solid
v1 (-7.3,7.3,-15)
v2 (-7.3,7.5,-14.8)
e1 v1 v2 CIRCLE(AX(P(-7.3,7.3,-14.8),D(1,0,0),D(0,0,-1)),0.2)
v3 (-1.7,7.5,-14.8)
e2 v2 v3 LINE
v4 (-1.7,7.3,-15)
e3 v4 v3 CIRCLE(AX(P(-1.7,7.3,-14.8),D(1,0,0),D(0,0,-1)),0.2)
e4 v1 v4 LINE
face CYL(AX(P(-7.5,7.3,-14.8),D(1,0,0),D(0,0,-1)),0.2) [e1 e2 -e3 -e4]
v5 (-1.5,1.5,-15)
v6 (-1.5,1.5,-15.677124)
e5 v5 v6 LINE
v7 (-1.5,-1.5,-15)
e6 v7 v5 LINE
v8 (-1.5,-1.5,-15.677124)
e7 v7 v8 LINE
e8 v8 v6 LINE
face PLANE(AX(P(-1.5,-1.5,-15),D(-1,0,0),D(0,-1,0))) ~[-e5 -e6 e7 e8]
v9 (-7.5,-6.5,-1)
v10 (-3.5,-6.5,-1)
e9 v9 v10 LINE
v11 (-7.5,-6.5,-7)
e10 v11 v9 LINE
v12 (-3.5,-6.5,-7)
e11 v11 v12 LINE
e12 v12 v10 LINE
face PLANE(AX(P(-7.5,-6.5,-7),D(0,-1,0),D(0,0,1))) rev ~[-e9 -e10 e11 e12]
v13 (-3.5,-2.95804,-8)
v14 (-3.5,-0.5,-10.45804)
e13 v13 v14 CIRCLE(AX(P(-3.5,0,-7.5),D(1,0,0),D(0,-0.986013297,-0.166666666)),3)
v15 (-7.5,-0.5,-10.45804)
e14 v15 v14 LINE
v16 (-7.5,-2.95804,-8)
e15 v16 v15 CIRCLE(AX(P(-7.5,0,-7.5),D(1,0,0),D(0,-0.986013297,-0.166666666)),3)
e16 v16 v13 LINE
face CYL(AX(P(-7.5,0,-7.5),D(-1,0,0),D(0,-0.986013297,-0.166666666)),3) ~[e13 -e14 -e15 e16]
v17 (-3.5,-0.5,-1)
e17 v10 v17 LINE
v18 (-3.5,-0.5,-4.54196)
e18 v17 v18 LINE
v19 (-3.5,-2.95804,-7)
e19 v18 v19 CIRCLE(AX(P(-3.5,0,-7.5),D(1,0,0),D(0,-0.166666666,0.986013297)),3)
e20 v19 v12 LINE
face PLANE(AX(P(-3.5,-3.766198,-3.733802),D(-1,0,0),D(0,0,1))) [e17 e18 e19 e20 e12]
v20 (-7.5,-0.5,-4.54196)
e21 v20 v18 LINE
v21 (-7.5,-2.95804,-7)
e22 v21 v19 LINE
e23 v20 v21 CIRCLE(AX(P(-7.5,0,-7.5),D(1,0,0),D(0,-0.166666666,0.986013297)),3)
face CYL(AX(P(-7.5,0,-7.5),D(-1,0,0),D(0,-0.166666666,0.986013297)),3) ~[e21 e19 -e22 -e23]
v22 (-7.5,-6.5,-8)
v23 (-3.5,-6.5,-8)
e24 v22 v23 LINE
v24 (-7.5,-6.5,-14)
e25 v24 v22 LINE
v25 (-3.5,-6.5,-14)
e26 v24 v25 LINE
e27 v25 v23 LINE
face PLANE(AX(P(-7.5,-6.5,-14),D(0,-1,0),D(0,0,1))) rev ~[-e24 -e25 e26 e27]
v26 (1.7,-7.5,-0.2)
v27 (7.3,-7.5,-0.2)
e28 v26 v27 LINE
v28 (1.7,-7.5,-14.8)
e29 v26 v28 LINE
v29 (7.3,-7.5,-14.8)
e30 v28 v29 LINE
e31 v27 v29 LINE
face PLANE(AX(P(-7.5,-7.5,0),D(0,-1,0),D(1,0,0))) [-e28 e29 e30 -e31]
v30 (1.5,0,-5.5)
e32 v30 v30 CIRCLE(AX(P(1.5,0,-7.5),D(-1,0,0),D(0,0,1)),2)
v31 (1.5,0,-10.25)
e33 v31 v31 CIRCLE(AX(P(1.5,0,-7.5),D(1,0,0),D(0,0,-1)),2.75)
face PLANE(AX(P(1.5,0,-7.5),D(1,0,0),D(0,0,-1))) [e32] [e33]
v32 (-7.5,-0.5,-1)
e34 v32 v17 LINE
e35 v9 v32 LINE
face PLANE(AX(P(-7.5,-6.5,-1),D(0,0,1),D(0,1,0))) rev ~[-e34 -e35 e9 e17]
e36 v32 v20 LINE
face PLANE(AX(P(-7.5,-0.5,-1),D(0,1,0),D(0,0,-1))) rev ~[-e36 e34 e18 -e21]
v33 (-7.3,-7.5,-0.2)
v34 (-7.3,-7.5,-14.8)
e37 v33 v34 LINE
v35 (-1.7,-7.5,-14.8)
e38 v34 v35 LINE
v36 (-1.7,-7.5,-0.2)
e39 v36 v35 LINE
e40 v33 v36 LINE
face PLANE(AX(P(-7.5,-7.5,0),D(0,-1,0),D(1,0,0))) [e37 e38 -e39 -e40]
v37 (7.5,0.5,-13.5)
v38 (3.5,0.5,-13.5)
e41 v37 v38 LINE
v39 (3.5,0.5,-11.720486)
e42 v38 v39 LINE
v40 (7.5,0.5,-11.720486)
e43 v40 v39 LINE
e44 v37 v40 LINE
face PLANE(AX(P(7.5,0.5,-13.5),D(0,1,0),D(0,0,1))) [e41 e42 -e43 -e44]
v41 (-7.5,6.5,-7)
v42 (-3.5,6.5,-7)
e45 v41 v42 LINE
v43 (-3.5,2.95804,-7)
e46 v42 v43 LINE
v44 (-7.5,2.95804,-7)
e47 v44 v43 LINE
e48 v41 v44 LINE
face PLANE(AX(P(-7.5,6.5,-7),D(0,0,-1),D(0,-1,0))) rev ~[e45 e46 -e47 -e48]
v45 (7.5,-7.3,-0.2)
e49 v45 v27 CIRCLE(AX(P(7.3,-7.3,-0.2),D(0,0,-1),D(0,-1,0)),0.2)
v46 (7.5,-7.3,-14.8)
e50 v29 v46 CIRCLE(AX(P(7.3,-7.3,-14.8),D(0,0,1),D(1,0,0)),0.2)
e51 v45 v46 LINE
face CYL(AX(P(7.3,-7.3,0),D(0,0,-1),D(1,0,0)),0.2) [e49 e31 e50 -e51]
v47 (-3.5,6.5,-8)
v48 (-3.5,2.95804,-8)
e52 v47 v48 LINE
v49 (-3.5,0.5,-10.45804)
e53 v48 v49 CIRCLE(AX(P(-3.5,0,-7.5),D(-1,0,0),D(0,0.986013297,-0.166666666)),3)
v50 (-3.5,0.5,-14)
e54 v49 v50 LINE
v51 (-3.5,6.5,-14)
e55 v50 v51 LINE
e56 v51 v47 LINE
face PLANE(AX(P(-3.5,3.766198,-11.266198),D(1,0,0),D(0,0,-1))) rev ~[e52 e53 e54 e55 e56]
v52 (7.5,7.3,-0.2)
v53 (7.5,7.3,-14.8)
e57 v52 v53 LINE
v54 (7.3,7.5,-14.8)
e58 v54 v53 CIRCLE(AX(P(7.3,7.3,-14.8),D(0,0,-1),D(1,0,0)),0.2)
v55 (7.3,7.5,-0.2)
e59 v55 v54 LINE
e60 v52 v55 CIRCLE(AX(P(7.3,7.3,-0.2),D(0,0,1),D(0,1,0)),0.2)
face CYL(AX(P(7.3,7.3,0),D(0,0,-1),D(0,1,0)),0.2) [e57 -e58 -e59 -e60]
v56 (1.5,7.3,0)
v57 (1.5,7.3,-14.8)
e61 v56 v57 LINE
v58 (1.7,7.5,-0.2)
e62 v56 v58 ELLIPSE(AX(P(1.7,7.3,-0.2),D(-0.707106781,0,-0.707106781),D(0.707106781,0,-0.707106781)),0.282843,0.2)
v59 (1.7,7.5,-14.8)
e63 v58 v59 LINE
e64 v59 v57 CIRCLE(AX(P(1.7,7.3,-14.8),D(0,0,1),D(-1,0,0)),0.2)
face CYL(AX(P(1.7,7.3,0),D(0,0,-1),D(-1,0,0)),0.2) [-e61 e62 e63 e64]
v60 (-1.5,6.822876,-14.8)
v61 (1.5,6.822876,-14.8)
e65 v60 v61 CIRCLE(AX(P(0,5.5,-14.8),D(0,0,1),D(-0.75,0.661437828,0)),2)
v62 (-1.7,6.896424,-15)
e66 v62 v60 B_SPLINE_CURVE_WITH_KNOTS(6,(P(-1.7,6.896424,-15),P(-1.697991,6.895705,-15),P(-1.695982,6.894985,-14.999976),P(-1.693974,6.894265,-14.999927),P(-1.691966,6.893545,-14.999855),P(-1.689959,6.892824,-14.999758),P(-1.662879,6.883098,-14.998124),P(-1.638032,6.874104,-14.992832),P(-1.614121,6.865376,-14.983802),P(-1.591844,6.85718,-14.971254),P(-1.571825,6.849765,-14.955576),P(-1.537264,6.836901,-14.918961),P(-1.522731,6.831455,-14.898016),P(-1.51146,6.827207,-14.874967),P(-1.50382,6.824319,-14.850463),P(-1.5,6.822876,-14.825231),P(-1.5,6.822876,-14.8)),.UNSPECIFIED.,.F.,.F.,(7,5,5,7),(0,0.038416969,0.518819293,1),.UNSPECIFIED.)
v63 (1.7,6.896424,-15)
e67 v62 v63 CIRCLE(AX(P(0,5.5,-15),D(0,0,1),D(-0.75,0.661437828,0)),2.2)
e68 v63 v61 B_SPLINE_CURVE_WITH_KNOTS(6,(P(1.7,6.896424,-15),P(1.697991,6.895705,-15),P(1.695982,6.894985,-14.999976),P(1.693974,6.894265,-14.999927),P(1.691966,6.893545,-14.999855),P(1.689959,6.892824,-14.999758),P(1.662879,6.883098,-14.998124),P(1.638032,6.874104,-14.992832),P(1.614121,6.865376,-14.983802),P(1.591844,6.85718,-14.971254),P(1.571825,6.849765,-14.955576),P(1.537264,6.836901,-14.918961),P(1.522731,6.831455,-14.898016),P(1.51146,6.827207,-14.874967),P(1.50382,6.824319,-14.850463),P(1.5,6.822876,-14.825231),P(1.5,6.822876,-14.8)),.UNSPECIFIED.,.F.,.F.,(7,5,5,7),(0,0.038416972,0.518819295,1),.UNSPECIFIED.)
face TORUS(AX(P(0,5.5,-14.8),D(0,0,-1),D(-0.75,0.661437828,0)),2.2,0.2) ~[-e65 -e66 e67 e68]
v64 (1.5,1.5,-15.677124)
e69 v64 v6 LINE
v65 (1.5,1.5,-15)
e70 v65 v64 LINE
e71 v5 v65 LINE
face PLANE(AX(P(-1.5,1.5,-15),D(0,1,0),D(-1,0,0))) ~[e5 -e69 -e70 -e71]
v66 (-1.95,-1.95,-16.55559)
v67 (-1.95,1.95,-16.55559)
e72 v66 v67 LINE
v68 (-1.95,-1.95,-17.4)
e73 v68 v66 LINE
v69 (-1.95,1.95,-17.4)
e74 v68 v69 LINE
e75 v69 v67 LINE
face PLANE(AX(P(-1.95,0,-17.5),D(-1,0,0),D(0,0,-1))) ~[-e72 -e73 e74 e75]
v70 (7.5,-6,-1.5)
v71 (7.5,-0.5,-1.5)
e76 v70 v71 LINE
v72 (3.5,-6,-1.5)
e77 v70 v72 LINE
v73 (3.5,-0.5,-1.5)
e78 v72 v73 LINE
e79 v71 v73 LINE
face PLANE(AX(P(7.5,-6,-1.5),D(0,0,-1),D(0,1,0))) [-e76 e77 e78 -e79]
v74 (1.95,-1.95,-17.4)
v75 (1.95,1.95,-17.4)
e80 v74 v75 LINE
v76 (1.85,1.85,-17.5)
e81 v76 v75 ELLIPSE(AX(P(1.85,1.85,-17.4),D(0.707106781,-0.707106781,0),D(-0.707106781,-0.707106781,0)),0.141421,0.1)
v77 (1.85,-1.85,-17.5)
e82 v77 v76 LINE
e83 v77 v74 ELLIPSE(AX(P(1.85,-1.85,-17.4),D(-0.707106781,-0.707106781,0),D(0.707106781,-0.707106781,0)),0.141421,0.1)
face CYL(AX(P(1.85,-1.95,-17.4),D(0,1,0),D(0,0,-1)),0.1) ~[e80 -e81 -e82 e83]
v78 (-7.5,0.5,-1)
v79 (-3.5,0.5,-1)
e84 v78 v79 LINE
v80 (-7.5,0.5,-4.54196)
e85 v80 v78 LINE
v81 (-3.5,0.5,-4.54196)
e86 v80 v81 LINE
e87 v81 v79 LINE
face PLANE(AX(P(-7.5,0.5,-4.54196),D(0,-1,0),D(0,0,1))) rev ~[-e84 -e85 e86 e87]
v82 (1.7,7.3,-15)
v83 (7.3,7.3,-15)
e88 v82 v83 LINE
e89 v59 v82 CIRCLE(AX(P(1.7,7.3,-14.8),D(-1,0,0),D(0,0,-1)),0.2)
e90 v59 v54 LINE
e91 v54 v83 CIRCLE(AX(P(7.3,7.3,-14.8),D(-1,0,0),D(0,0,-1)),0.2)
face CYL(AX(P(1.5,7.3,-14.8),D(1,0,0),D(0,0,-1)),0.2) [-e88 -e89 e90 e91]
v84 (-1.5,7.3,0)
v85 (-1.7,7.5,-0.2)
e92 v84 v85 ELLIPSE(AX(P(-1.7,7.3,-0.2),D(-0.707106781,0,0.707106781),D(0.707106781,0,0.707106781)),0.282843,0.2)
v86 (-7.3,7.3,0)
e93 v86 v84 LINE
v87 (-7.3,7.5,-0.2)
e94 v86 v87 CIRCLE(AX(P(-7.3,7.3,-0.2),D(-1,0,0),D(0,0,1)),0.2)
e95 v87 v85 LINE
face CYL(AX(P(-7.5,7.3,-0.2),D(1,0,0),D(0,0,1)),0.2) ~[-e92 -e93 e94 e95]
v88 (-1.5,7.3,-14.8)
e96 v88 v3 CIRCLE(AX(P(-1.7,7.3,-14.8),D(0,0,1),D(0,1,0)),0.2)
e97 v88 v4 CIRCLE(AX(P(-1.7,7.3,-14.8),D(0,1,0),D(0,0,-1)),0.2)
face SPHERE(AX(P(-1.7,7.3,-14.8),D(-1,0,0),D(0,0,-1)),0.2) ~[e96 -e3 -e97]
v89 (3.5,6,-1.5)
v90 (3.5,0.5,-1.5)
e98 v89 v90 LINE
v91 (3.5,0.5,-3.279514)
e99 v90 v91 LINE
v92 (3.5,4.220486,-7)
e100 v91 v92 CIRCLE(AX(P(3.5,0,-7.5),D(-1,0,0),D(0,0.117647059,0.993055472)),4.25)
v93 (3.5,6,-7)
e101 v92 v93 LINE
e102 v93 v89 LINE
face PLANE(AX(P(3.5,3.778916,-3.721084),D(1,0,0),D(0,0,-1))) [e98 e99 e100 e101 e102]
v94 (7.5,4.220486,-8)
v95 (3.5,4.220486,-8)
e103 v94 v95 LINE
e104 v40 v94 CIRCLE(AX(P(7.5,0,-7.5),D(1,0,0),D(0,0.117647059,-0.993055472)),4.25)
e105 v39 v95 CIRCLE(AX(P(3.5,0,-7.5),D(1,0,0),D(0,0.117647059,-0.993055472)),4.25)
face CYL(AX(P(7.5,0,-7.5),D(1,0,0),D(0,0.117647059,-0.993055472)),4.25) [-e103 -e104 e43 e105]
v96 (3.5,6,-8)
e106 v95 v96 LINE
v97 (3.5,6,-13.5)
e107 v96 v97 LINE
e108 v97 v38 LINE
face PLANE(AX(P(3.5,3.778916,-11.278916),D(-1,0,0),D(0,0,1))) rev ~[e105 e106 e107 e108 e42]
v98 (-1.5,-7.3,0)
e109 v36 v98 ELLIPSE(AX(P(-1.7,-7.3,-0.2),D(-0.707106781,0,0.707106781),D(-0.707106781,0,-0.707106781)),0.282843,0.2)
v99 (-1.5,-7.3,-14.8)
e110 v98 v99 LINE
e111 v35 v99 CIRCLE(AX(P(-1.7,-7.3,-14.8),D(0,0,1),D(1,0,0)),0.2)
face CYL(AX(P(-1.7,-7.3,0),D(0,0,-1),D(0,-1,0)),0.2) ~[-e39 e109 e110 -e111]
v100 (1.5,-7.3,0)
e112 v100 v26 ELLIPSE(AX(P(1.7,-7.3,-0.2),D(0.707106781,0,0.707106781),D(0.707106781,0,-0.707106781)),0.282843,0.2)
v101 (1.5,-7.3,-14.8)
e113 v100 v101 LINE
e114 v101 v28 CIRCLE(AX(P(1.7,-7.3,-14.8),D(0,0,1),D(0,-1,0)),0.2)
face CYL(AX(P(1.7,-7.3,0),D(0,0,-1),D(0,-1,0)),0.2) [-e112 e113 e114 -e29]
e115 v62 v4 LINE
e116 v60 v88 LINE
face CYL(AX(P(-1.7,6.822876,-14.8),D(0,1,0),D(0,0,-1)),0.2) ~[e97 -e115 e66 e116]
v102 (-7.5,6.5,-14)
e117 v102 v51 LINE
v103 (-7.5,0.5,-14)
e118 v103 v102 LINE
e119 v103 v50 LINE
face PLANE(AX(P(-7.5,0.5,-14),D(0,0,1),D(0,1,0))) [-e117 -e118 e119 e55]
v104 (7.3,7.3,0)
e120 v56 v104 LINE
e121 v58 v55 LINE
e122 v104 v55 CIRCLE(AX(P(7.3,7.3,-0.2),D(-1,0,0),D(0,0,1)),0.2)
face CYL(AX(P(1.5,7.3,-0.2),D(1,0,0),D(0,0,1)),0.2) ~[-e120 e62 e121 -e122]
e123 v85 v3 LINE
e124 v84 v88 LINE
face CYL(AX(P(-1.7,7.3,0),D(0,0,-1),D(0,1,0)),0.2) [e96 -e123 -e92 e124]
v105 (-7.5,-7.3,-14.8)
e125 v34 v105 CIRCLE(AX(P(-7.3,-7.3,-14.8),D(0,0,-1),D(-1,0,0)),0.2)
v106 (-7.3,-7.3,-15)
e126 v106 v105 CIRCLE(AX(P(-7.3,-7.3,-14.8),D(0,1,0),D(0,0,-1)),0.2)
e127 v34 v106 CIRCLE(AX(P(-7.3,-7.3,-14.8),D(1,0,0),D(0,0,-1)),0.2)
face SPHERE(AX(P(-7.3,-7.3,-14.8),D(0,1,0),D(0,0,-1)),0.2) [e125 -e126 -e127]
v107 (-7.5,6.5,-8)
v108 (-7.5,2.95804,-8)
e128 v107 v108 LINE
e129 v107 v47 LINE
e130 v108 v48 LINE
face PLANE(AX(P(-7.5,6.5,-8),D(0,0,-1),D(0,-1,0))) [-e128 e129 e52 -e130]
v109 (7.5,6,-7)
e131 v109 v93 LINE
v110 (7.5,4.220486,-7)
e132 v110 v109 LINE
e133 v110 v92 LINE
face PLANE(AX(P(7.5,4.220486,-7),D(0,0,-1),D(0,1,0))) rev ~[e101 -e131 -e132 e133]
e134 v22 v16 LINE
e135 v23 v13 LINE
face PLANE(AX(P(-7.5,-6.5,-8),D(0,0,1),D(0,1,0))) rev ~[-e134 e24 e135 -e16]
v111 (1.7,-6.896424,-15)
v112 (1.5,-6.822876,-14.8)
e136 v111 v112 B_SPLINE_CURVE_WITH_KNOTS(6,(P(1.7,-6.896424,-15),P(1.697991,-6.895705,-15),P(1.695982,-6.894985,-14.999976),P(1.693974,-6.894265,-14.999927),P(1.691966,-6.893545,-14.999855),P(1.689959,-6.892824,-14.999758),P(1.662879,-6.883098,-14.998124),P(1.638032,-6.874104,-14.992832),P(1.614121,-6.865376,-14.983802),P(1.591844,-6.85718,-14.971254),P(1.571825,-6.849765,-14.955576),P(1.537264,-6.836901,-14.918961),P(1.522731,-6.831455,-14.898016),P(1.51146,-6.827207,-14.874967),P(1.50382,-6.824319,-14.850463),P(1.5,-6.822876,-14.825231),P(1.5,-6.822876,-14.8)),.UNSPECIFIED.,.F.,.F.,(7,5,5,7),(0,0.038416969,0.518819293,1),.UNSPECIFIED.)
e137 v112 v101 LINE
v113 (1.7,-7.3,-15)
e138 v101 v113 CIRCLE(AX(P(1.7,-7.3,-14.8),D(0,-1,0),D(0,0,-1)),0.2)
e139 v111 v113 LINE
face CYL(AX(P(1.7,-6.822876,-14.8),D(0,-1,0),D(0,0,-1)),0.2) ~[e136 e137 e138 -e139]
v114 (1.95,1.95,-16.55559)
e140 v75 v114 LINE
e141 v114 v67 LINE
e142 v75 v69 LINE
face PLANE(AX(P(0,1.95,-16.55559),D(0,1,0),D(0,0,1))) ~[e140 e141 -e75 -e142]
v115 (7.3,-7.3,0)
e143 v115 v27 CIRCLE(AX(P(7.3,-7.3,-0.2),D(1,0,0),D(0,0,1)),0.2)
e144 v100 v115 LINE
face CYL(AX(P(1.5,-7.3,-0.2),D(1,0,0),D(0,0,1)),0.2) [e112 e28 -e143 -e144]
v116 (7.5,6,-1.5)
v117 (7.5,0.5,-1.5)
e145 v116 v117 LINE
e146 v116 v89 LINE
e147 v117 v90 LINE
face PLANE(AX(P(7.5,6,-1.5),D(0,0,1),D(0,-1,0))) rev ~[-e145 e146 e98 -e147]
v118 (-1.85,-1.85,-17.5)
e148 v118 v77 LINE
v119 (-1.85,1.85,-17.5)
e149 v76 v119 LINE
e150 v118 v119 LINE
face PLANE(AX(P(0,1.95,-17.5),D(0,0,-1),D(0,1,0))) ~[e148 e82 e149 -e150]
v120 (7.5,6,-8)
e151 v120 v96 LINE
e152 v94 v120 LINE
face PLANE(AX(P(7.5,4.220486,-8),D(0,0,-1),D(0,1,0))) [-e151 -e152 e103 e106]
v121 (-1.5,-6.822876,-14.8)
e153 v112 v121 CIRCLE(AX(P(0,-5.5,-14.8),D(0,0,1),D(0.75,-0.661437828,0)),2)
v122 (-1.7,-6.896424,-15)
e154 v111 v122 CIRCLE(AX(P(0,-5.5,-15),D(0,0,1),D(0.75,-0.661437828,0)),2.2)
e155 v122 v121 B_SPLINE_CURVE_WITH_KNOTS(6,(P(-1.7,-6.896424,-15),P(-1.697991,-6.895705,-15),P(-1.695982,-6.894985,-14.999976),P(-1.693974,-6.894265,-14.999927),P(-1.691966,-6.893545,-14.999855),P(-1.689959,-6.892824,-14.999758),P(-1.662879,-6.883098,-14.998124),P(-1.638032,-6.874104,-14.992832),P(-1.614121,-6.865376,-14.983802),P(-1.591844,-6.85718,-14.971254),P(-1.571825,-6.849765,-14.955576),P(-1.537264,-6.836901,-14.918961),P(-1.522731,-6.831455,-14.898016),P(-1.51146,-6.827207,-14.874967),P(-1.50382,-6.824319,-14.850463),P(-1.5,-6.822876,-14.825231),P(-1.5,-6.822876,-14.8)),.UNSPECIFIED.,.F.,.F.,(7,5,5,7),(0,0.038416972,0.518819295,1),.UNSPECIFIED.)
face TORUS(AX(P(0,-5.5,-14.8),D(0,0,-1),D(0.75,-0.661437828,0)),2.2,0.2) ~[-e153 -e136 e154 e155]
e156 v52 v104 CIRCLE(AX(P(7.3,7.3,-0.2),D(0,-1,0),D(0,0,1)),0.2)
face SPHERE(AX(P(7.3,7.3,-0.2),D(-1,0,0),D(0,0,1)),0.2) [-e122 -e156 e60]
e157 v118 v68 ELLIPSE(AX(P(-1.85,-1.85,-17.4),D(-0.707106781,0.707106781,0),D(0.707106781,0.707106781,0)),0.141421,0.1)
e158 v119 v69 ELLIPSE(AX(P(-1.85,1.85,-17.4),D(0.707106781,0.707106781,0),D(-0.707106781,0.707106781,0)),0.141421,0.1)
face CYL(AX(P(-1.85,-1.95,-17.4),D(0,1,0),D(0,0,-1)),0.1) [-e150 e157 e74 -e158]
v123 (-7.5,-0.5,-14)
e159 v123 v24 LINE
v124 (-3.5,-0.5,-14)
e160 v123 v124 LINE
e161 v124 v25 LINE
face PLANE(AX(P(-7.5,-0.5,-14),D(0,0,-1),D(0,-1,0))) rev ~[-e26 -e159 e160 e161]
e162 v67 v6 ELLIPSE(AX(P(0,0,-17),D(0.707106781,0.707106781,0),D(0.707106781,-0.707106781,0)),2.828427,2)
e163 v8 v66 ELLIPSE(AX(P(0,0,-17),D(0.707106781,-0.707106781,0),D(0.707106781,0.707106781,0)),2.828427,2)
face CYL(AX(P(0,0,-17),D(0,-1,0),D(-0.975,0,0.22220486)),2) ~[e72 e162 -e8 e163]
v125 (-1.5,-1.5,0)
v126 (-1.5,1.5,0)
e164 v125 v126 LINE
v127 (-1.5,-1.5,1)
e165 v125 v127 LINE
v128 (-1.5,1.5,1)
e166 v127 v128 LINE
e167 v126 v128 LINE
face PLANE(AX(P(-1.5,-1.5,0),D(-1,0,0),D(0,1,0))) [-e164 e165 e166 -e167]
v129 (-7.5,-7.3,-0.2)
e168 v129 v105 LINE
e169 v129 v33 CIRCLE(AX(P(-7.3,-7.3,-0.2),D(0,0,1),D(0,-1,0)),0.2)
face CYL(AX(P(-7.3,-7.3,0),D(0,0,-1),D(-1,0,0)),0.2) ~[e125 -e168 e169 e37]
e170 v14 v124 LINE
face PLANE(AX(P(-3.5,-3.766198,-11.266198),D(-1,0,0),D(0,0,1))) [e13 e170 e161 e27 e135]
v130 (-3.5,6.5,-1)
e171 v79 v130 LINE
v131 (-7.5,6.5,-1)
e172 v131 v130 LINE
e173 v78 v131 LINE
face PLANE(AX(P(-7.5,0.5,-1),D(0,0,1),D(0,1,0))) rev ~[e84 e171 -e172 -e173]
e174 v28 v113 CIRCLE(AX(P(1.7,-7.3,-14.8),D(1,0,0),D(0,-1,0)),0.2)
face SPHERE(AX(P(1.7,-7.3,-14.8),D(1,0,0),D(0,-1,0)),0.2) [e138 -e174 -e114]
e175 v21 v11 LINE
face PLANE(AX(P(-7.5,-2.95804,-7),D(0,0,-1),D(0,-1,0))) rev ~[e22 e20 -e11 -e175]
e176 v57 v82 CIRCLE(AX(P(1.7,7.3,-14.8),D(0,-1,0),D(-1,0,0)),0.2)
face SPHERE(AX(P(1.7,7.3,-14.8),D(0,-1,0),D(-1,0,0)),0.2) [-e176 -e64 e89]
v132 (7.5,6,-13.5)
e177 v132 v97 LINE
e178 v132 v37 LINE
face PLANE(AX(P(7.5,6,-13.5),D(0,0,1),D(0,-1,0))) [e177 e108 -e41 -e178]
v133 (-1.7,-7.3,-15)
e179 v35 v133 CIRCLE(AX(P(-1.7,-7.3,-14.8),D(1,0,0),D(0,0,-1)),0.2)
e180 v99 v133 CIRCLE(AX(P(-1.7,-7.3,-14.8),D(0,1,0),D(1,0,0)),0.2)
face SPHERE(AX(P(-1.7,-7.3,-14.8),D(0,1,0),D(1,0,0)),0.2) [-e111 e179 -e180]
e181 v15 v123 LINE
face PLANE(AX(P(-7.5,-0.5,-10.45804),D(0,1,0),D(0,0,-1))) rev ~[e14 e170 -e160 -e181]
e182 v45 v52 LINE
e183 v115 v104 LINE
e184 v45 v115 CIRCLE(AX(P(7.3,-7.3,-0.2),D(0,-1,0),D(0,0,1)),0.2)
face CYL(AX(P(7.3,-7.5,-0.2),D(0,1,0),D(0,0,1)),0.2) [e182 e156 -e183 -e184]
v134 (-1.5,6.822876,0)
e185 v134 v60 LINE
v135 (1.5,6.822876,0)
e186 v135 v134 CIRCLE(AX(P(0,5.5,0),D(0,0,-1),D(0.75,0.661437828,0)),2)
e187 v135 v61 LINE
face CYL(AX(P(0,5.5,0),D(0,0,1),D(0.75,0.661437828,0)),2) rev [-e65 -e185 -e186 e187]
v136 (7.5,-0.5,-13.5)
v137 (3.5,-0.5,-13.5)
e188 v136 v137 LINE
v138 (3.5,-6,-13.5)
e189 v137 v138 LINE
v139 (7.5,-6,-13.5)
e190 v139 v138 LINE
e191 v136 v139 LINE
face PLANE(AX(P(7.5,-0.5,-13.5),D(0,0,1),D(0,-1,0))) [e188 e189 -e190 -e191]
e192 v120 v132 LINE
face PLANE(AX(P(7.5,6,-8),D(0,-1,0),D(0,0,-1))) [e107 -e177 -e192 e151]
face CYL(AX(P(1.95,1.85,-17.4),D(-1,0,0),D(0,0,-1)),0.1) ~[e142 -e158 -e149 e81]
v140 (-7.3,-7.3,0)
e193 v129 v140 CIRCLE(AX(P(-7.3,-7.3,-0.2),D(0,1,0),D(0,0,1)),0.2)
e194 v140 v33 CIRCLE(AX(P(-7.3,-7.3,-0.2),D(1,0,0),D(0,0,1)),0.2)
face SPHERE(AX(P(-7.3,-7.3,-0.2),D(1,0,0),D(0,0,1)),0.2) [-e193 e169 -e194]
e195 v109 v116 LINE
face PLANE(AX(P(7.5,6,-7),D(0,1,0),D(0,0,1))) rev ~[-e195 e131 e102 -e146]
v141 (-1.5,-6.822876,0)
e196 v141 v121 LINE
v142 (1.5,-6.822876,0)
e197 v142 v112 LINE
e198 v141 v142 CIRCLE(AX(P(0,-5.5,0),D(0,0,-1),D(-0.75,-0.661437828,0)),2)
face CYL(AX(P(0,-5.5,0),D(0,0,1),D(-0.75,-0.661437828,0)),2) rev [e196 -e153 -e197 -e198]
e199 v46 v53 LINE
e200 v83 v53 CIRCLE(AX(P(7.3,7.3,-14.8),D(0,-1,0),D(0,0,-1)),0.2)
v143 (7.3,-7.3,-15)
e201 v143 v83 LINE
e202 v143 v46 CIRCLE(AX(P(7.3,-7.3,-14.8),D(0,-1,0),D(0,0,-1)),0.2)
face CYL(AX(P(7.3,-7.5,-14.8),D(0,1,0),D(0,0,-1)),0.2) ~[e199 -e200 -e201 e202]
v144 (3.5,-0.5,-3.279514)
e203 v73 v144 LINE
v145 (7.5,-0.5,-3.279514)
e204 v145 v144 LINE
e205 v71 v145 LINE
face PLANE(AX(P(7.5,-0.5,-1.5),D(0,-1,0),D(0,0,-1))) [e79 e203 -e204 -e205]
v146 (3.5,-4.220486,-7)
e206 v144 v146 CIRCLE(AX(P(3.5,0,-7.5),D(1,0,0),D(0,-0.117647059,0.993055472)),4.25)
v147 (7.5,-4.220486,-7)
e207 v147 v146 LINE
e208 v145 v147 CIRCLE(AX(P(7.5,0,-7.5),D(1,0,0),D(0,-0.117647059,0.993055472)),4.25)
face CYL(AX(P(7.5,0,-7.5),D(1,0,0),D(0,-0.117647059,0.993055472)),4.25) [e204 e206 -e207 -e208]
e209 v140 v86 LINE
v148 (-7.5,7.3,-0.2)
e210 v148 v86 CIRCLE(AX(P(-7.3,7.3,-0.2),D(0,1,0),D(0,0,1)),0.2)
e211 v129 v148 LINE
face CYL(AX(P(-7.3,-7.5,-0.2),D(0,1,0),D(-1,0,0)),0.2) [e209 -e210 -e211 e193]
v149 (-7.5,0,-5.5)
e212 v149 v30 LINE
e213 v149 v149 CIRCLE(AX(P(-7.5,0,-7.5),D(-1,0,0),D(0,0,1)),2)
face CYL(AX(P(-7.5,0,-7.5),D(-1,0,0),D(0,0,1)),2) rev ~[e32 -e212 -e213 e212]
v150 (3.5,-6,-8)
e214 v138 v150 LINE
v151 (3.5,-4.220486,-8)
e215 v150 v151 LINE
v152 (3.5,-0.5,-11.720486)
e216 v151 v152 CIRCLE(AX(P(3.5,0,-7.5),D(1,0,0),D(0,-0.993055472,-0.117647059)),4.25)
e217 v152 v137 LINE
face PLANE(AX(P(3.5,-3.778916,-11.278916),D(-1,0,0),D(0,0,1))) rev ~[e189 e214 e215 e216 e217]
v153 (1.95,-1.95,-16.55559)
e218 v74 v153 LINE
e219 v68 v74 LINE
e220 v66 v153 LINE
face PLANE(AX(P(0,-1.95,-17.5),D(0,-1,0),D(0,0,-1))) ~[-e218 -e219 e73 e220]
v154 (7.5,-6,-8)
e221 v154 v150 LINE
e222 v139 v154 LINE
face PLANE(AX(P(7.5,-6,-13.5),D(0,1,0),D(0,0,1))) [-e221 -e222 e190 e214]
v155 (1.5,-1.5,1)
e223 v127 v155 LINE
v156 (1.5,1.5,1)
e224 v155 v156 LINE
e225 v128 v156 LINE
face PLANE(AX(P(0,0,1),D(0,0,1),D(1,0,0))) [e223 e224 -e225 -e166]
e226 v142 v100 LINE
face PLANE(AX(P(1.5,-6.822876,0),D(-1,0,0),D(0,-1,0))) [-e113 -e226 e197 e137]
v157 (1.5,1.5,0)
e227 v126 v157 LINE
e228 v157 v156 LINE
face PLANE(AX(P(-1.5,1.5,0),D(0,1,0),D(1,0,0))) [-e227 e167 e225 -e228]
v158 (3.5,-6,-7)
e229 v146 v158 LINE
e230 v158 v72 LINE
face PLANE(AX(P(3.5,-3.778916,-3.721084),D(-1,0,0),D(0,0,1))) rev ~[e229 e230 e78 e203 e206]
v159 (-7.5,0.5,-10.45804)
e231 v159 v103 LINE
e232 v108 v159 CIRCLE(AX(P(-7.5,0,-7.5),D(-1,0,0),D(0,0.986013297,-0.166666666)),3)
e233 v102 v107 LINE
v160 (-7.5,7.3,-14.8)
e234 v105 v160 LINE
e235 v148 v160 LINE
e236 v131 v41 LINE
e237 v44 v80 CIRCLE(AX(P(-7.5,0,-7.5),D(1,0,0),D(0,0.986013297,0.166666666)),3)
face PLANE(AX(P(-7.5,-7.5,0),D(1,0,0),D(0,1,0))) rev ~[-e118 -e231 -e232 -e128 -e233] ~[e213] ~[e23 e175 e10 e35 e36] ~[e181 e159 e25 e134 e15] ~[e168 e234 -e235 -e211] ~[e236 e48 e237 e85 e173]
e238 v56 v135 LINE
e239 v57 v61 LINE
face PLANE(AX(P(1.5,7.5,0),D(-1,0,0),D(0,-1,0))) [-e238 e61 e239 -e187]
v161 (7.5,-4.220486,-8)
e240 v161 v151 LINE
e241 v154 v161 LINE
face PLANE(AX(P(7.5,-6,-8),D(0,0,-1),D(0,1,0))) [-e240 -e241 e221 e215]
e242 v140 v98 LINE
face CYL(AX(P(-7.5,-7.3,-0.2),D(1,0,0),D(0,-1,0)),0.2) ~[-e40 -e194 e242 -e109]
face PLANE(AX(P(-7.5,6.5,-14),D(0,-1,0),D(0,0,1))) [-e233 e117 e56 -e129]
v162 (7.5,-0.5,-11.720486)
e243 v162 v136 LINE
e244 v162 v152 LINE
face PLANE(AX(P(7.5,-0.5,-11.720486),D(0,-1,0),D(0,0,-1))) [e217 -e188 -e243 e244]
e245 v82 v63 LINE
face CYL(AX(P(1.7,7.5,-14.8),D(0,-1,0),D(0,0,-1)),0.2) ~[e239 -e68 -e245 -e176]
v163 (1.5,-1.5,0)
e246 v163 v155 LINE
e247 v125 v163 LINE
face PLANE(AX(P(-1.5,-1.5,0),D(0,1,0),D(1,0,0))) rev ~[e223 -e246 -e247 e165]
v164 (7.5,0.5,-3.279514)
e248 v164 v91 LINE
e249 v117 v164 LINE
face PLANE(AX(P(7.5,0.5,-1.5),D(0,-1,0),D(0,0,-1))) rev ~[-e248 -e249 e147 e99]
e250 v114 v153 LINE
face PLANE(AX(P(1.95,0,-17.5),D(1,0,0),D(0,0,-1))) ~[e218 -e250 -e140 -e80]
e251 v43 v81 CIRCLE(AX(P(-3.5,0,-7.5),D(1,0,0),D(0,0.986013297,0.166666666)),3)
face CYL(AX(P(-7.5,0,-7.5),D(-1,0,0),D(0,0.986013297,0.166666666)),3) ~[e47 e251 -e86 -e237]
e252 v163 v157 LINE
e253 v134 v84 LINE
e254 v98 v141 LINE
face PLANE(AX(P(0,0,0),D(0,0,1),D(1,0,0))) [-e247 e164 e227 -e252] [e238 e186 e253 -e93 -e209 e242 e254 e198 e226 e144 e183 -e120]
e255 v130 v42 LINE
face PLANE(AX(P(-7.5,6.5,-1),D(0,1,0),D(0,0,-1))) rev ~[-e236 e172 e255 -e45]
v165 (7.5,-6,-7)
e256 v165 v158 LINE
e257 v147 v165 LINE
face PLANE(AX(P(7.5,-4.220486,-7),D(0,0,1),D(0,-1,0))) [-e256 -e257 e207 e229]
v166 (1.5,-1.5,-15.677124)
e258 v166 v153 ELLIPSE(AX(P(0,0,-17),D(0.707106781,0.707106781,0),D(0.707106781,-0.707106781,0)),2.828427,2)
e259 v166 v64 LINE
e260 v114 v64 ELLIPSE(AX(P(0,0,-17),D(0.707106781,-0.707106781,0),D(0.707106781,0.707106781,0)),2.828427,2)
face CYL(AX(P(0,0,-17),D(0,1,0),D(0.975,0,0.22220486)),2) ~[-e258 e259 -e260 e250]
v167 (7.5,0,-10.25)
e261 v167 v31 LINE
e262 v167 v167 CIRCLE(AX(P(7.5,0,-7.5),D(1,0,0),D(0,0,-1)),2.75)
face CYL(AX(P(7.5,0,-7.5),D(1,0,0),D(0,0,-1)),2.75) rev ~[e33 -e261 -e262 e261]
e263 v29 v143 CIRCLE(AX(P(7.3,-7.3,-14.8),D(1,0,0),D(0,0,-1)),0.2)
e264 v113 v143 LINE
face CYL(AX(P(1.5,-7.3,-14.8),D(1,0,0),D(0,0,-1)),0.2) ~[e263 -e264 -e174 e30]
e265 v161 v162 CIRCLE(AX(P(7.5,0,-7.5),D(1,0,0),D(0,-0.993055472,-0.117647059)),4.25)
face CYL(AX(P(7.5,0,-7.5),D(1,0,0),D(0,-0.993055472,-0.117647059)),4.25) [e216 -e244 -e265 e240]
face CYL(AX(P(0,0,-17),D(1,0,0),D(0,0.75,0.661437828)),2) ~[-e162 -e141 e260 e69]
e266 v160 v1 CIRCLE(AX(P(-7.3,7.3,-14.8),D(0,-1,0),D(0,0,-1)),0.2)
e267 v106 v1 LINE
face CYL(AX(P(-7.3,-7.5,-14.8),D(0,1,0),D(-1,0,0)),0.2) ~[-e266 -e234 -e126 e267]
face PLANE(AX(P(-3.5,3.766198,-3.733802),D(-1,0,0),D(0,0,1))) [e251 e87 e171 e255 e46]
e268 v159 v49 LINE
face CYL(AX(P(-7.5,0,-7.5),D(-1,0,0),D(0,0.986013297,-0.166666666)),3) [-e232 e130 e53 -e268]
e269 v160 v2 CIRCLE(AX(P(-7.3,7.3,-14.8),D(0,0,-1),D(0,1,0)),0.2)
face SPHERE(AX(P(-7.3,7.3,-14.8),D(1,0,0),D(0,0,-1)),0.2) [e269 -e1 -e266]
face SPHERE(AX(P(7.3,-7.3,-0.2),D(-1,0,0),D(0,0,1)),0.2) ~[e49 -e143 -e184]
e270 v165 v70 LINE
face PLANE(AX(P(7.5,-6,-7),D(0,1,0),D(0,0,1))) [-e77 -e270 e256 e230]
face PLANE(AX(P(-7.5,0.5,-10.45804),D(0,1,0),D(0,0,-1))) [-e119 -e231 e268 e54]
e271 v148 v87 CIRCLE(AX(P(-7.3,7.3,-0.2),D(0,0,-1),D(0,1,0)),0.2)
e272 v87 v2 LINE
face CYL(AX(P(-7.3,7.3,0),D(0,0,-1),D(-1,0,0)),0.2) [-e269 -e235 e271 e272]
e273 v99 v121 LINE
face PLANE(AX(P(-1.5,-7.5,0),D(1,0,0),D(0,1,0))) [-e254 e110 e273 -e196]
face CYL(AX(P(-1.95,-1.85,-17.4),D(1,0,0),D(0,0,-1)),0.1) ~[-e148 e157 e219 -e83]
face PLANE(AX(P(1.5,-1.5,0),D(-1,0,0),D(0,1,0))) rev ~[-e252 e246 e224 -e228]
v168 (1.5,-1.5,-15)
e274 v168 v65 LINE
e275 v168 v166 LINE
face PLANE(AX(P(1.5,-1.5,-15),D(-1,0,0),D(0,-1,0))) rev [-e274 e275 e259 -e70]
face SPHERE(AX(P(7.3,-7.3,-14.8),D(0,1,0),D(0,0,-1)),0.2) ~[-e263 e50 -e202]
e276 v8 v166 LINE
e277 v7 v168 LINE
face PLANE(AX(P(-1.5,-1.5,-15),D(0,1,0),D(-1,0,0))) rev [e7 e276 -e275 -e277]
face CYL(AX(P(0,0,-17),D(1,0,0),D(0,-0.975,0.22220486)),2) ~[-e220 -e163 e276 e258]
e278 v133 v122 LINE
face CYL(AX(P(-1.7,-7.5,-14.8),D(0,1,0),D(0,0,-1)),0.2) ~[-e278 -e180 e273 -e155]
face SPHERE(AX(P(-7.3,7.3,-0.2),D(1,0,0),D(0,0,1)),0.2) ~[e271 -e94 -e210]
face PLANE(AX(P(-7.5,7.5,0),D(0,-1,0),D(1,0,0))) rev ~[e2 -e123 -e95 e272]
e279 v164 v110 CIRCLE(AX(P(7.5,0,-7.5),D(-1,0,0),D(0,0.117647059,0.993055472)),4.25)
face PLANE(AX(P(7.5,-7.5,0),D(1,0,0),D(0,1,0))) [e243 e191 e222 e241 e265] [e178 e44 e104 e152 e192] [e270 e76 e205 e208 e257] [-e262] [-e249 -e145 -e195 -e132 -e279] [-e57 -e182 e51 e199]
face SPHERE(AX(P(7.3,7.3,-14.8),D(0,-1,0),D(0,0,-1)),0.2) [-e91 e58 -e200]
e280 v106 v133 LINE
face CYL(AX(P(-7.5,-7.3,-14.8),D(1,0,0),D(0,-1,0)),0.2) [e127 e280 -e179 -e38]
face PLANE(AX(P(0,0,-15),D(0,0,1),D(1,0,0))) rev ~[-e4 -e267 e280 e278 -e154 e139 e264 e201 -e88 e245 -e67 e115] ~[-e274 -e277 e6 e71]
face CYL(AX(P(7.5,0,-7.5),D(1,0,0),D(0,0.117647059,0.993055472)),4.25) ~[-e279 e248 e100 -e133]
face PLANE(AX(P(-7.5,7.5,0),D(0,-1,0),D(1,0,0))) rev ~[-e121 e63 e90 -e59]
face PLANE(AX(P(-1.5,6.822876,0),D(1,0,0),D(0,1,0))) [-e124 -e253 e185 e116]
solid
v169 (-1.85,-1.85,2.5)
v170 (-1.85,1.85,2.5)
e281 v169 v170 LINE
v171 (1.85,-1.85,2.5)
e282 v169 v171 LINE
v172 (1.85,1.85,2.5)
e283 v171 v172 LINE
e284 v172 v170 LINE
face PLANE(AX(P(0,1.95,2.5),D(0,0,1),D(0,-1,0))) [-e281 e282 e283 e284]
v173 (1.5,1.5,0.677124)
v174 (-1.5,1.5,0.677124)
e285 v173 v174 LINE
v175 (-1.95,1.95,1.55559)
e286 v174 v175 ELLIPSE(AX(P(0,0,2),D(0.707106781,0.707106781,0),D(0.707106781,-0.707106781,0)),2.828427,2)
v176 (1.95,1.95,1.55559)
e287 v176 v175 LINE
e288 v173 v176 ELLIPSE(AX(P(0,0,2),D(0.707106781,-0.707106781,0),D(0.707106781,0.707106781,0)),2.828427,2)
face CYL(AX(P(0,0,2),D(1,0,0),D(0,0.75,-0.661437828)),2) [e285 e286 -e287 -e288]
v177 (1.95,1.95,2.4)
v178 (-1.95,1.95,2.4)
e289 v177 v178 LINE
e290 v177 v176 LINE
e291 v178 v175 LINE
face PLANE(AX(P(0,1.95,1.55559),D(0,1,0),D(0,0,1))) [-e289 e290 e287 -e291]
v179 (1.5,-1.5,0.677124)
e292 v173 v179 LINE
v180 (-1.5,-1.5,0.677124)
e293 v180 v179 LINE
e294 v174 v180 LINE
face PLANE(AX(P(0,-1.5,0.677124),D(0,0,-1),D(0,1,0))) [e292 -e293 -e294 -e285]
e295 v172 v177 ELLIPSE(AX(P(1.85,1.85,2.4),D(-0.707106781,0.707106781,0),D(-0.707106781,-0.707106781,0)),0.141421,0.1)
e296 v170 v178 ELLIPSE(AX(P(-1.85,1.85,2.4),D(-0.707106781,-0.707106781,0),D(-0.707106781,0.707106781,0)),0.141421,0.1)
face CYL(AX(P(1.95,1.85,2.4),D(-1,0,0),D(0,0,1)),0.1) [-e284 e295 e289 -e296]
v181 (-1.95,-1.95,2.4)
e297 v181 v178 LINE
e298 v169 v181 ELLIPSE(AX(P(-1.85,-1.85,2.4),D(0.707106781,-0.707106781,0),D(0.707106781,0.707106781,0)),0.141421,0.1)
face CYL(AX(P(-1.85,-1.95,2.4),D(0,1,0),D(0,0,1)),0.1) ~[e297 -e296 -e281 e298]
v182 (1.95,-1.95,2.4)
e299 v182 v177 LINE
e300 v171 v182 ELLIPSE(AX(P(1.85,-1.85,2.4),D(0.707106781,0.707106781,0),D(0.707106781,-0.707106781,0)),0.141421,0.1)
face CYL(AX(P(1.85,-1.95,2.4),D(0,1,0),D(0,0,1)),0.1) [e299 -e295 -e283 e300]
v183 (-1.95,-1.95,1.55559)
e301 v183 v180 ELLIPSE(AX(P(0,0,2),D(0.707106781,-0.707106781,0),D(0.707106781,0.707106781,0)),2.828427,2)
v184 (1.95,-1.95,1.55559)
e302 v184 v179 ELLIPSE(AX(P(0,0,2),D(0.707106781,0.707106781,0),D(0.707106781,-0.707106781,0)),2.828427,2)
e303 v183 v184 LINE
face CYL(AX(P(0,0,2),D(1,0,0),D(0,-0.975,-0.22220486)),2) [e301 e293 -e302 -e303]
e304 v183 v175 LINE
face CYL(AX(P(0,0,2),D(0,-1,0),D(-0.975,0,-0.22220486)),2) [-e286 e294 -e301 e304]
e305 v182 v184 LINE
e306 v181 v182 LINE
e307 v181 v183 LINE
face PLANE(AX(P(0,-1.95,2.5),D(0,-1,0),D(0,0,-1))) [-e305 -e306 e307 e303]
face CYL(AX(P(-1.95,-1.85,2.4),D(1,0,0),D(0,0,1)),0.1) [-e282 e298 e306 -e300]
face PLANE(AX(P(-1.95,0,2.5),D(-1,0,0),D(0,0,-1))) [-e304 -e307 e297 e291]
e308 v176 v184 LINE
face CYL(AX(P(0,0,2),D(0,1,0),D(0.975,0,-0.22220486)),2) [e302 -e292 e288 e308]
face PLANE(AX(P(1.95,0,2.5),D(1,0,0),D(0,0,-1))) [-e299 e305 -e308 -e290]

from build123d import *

# Parameters (mm, degrees)
SKETCH_1_W             = 15
SKETCH_1_H             = 15
EXTRUDE_1_DEPTH        = 15
SKETCH_2_W             = 3
SKETCH_2_H             = 3
EXTRUDE_2_DEPTH        = 1
EXTRUDE_3_DEPTH        = 4
CUT_EXTRUDE_1_DEPTH    = 1.95
SKETCH_5_R             = 2
CUT_EXTRUDE_2_DEPTH    = 9
CUT_EXTRUDE_3_DEPTH    = 4
CUT_EXTRUDE_5_DEPTH    = 19.371173071
FILLET_1_R             = 0.1
FILLET_2_R             = 0.2
FILLET_1_OF_MIRROR_2_R = 0.1
CUT_EXTRUDE_6_DEPTH    = 4
SKETCH_9_R             = 2.75
CUT_EXTRUDE_7_DEPTH    = 6


with BuildPart() as part:
    # 草图1 → 凸台-拉伸1 (new body)
    with BuildSketch(Plane.XY):
        Rectangle(SKETCH_1_W, SKETCH_1_H)
    extrude(amount=-EXTRUDE_1_DEPTH)

    # 草图2 → 凸台-拉伸2 (add)
    with BuildSketch(Plane.XY):
        Rectangle(SKETCH_2_W, SKETCH_2_H)
    extrude_2 = extrude(amount=EXTRUDE_2_DEPTH)

    # 草图5 → 切除-拉伸2 (cut)
    with BuildSketch(Plane.ZY.offset(7.5)):
        with Locations((-7.5, 0)):
            Circle(SKETCH_5_R)
    extrude(amount=-CUT_EXTRUDE_2_DEPTH, mode=Mode.SUBTRACT)

    # 草图6 → 切除-拉伸3 (cut)
    with BuildSketch(Plane.ZY.offset(7.5)):
        with BuildLine():
            Line((-8, 6.5), (-8, 2.958039892))
            ThreePointArc((-8, 2.958039892), (-9.621320344, 2.121320344), (-10.458039892, 0.5))
            Line((-10.458039892, 0.5), (-14, 0.5))
            Line((-14, 0.5), (-14, 6.5))
            Line((-14, 6.5), (-8, 6.5))
        make_face()
        with BuildLine():
            Line((-14, -6.5), (-8, -6.5))
            Line((-8, -6.5), (-8, -2.958039892))
            ThreePointArc((-8, -2.958039892), (-9.621320344, -2.121320344), (-10.458039892, -0.5))
            Line((-10.458039892, -0.5), (-14, -0.5))
            Line((-14, -0.5), (-14, -6.5))
        make_face()
        with BuildLine():
            Line((-1, -6.5), (-1, -0.5))
            Line((-1, -0.5), (-4.541960108, -0.5))
            ThreePointArc((-4.541960108, -0.5), (-5.378679656, -2.121320344), (-7, -2.958039892))
            Line((-7, -2.958039892), (-7, -6.5))
            Line((-7, -6.5), (-1, -6.5))
        make_face()
        with BuildLine():
            Line((-7, 6.5), (-7, 2.958039892))
            ThreePointArc((-7, 2.958039892), (-5.378679656, 2.121320344), (-4.541960108, 0.5))
            Line((-4.541960108, 0.5), (-1, 0.5))
            Line((-1, 0.5), (-1, 6.5))
            Line((-1, 6.5), (-7, 6.5))
        make_face()
    extrude(amount=-CUT_EXTRUDE_3_DEPTH, mode=Mode.SUBTRACT)

    # 草图7 → 切除-拉伸5 (cut, through all)
    with BuildSketch(Plane.XY):
        with BuildLine():
            Line((-1.5, -7.5), (-1.5, -6.822875656))
            ThreePointArc((-1.5, -6.822875656), (0, -3.5), (1.5, -6.822875656))
            Line((1.5, -6.822875656), (1.5, -7.5))
            Line((1.5, -7.5), (-1.5, -7.5))
        make_face()
        with BuildLine():
            Line((-1.5, 7.5), (1.5, 7.5))
            Line((1.5, 7.5), (1.5, 6.822875656))
            ThreePointArc((1.5, 6.822875656), (0, 3.5), (-1.5, 6.822875656))
            Line((-1.5, 6.822875656), (-1.5, 7.5))
        make_face()
    extrude(amount=-CUT_EXTRUDE_5_DEPTH, mode=Mode.SUBTRACT)

    # 圆角2
    fillet_2_edges = [part.edges().sort_by_distance(p)[0] for p in [
        (7.5, 0, -15),
        (-4.5, 7.5, -15),
        (-4.5, 7.5, 0),
        (0, 3.5, -15),
        (-1.5, 7.161437828, -15),
        (-1.5, 7.5, -7.5),
        (1.5, 7.161437828, -15),
        (1.5, 7.5, -7.5),
        (4.5, 7.5, -15),
        (4.5, -7.5, -15),
        (4.5, -7.5, 0),
        (1.5, -7.5, -7.5),
        (-1.5, -7.161437828, -15),
        (-1.5, -7.5, -7.5),
        (0, -3.5, -15),
        (1.5, -7.161437828, -15),
        (-7.5, 0, -15),
        (4.5, 7.5, 0),
        (7.5, 0, 0),
        (-4.5, -7.5, 0),
        (-7.5, 0, 0),
        (-4.5, -7.5, -15),
        (-7.5, 7.5, -7.5),
        (7.5, 7.5, -7.5),
        (7.5, -7.5, -7.5),
        (-7.5, -7.5, -7.5),
    ]]
    fillet(fillet_2_edges, radius=FILLET_2_R)


with BuildPart() as body_2:
    # 草图3 → 凸台-拉伸3 (new, symmetric)
    with BuildSketch(Plane(origin=(0, 0, 0), x_dir=(0, 0, -1), z_dir=(1, 0, 0))):
        with BuildLine():
            Line((-2.5, 1.95), (-2.5, -1.95))
            Line((-2.5, -1.95), (-1.555590279, -1.95))
            ThreePointArc((-1.555590279, -1.95), (-1.088161527, -1.780042303), (-0.677124344, -1.5))
            Line((-0.677124344, -1.5), (-0.677124344, 1.5))
            ThreePointArc((-0.677124344, 1.5), (-1.088161527, 1.780042303), (-1.555590279, 1.95))
            Line((-1.555590279, 1.95), (-2.5, 1.95))
        make_face()
    extrude_3 = extrude(amount=EXTRUDE_3_DEPTH, both=True)

    # 草图4 → 切除-拉伸1 (cut, symmetric)
    with BuildSketch(Plane(origin=(0, 0, 0), x_dir=(1, 0, 0), z_dir=(0, 1, 0))):
        with BuildLine():
            Line((-4, -2.5), (-1.95, -2.5))
            Line((-1.95, -2.5), (-1.95, -1.555590279))
            ThreePointArc((-1.95, -1.555590279), (-1.780042303, -1.088161527), (-1.5, -0.677124344))
            Line((-1.5, -0.677124344), (-4, -0.677124344))
            Line((-4, -0.677124344), (-4, -2.5))
        make_face()
        with BuildLine():
            Line((1.95, -2.5), (1.95, -1.555590279))
            ThreePointArc((1.95, -1.555590279), (1.780042303, -1.088161527), (1.5, -0.677124344))
            Line((1.5, -0.677124344), (4, -0.677124344))
            Line((4, -0.677124344), (4, -2.5))
            Line((4, -2.5), (1.95, -2.5))
        make_face()
    cut_extrude_1 = extrude(amount=CUT_EXTRUDE_1_DEPTH, both=True, mode=Mode.SUBTRACT)

    # 圆角1
    fillet_1_edges = [body_2.edges().sort_by_distance(p)[0] for p in [
        (0, 1.95, 2.5),
        (0, -1.95, 2.5),
        (-1.95, 0, 2.5),
        (1.95, 0, 2.5),
    ]]
    fillet(fillet_1_edges, radius=FILLET_1_R)


with BuildPart() as part_1:
    add(part.part)

    # 镜向2: 凸台-拉伸2, 凸台-拉伸3, 切除-拉伸1 across plane
    add(extrude_2.mirror(Plane.XY.offset(-7.5)))
    add(extrude_3.mirror(Plane.XY.offset(-7.5)))
    add(cut_extrude_1.mirror(Plane.XY.offset(-7.5)), mode=Mode.SUBTRACT)

    # 圆角1 of 镜向2
    fillet_1_of_mirror_2_edges = [part_1.edges().sort_by_distance(p)[0] for p in [
        (0, 1.95, -17.5),
        (0, -1.95, -17.5),
        (-1.95, 0, -17.5),
        (1.95, 0, -17.5),
    ]]
    fillet(fillet_1_of_mirror_2_edges, radius=FILLET_1_OF_MIRROR_2_R)

    # 草图8 → 切除-拉伸6 (cut)
    with BuildSketch(Plane(origin=(7.5, 0, 0), x_dir=(0, 0, -1), z_dir=(1, 0, 0))):
        with BuildLine():
            Line((13.5, 6), (13.5, 0.5))
            Line((13.5, 0.5), (11.720485754, 0.5))
            ThreePointArc((11.720485754, 0.5), (10.50520382, 3.00520382), (8, 4.220485754))
            Line((8, 4.220485754), (8, 6))
            Line((8, 6), (13.5, 6))
        make_face()
        with BuildLine():
            Line((13.5, -6), (8, -6))
            Line((8, -6), (8, -4.220485754))
            ThreePointArc((8, -4.220485754), (10.50520382, -3.00520382), (11.720485754, -0.5))
            Line((11.720485754, -0.5), (13.5, -0.5))
            Line((13.5, -0.5), (13.5, -6))
        make_face()
        with BuildLine():
            Line((1.5, 6), (1.5, 0.5))
            Line((1.5, 0.5), (3.279514246, 0.5))
            ThreePointArc((3.279514246, 0.5), (4.49479618, 3.00520382), (7, 4.220485754))
            Line((7, 4.220485754), (7, 6))
            Line((7, 6), (1.5, 6))
        make_face()
        with BuildLine():
            Line((7, -4.220485754), (7, -6))
            Line((7, -6), (1.5, -6))
            Line((1.5, -6), (1.5, -0.5))
            Line((1.5, -0.5), (3.279514246, -0.5))
            ThreePointArc((3.279514246, -0.5), (4.49479618, -3.00520382), (7, -4.220485754))
        make_face()
    extrude(amount=-CUT_EXTRUDE_6_DEPTH, mode=Mode.SUBTRACT)

    # 草图9 → 切除-拉伸7 (cut)
    with BuildSketch(Plane(origin=(7.5, 0, 0), x_dir=(0, 0, -1), z_dir=(1, 0, 0))):
        with Locations((7.5, 0)):
            Circle(SKETCH_9_R)
    extrude(amount=-CUT_EXTRUDE_7_DEPTH, mode=Mode.SUBTRACT)


solid = Compound([body_2.part, part_1.part])
